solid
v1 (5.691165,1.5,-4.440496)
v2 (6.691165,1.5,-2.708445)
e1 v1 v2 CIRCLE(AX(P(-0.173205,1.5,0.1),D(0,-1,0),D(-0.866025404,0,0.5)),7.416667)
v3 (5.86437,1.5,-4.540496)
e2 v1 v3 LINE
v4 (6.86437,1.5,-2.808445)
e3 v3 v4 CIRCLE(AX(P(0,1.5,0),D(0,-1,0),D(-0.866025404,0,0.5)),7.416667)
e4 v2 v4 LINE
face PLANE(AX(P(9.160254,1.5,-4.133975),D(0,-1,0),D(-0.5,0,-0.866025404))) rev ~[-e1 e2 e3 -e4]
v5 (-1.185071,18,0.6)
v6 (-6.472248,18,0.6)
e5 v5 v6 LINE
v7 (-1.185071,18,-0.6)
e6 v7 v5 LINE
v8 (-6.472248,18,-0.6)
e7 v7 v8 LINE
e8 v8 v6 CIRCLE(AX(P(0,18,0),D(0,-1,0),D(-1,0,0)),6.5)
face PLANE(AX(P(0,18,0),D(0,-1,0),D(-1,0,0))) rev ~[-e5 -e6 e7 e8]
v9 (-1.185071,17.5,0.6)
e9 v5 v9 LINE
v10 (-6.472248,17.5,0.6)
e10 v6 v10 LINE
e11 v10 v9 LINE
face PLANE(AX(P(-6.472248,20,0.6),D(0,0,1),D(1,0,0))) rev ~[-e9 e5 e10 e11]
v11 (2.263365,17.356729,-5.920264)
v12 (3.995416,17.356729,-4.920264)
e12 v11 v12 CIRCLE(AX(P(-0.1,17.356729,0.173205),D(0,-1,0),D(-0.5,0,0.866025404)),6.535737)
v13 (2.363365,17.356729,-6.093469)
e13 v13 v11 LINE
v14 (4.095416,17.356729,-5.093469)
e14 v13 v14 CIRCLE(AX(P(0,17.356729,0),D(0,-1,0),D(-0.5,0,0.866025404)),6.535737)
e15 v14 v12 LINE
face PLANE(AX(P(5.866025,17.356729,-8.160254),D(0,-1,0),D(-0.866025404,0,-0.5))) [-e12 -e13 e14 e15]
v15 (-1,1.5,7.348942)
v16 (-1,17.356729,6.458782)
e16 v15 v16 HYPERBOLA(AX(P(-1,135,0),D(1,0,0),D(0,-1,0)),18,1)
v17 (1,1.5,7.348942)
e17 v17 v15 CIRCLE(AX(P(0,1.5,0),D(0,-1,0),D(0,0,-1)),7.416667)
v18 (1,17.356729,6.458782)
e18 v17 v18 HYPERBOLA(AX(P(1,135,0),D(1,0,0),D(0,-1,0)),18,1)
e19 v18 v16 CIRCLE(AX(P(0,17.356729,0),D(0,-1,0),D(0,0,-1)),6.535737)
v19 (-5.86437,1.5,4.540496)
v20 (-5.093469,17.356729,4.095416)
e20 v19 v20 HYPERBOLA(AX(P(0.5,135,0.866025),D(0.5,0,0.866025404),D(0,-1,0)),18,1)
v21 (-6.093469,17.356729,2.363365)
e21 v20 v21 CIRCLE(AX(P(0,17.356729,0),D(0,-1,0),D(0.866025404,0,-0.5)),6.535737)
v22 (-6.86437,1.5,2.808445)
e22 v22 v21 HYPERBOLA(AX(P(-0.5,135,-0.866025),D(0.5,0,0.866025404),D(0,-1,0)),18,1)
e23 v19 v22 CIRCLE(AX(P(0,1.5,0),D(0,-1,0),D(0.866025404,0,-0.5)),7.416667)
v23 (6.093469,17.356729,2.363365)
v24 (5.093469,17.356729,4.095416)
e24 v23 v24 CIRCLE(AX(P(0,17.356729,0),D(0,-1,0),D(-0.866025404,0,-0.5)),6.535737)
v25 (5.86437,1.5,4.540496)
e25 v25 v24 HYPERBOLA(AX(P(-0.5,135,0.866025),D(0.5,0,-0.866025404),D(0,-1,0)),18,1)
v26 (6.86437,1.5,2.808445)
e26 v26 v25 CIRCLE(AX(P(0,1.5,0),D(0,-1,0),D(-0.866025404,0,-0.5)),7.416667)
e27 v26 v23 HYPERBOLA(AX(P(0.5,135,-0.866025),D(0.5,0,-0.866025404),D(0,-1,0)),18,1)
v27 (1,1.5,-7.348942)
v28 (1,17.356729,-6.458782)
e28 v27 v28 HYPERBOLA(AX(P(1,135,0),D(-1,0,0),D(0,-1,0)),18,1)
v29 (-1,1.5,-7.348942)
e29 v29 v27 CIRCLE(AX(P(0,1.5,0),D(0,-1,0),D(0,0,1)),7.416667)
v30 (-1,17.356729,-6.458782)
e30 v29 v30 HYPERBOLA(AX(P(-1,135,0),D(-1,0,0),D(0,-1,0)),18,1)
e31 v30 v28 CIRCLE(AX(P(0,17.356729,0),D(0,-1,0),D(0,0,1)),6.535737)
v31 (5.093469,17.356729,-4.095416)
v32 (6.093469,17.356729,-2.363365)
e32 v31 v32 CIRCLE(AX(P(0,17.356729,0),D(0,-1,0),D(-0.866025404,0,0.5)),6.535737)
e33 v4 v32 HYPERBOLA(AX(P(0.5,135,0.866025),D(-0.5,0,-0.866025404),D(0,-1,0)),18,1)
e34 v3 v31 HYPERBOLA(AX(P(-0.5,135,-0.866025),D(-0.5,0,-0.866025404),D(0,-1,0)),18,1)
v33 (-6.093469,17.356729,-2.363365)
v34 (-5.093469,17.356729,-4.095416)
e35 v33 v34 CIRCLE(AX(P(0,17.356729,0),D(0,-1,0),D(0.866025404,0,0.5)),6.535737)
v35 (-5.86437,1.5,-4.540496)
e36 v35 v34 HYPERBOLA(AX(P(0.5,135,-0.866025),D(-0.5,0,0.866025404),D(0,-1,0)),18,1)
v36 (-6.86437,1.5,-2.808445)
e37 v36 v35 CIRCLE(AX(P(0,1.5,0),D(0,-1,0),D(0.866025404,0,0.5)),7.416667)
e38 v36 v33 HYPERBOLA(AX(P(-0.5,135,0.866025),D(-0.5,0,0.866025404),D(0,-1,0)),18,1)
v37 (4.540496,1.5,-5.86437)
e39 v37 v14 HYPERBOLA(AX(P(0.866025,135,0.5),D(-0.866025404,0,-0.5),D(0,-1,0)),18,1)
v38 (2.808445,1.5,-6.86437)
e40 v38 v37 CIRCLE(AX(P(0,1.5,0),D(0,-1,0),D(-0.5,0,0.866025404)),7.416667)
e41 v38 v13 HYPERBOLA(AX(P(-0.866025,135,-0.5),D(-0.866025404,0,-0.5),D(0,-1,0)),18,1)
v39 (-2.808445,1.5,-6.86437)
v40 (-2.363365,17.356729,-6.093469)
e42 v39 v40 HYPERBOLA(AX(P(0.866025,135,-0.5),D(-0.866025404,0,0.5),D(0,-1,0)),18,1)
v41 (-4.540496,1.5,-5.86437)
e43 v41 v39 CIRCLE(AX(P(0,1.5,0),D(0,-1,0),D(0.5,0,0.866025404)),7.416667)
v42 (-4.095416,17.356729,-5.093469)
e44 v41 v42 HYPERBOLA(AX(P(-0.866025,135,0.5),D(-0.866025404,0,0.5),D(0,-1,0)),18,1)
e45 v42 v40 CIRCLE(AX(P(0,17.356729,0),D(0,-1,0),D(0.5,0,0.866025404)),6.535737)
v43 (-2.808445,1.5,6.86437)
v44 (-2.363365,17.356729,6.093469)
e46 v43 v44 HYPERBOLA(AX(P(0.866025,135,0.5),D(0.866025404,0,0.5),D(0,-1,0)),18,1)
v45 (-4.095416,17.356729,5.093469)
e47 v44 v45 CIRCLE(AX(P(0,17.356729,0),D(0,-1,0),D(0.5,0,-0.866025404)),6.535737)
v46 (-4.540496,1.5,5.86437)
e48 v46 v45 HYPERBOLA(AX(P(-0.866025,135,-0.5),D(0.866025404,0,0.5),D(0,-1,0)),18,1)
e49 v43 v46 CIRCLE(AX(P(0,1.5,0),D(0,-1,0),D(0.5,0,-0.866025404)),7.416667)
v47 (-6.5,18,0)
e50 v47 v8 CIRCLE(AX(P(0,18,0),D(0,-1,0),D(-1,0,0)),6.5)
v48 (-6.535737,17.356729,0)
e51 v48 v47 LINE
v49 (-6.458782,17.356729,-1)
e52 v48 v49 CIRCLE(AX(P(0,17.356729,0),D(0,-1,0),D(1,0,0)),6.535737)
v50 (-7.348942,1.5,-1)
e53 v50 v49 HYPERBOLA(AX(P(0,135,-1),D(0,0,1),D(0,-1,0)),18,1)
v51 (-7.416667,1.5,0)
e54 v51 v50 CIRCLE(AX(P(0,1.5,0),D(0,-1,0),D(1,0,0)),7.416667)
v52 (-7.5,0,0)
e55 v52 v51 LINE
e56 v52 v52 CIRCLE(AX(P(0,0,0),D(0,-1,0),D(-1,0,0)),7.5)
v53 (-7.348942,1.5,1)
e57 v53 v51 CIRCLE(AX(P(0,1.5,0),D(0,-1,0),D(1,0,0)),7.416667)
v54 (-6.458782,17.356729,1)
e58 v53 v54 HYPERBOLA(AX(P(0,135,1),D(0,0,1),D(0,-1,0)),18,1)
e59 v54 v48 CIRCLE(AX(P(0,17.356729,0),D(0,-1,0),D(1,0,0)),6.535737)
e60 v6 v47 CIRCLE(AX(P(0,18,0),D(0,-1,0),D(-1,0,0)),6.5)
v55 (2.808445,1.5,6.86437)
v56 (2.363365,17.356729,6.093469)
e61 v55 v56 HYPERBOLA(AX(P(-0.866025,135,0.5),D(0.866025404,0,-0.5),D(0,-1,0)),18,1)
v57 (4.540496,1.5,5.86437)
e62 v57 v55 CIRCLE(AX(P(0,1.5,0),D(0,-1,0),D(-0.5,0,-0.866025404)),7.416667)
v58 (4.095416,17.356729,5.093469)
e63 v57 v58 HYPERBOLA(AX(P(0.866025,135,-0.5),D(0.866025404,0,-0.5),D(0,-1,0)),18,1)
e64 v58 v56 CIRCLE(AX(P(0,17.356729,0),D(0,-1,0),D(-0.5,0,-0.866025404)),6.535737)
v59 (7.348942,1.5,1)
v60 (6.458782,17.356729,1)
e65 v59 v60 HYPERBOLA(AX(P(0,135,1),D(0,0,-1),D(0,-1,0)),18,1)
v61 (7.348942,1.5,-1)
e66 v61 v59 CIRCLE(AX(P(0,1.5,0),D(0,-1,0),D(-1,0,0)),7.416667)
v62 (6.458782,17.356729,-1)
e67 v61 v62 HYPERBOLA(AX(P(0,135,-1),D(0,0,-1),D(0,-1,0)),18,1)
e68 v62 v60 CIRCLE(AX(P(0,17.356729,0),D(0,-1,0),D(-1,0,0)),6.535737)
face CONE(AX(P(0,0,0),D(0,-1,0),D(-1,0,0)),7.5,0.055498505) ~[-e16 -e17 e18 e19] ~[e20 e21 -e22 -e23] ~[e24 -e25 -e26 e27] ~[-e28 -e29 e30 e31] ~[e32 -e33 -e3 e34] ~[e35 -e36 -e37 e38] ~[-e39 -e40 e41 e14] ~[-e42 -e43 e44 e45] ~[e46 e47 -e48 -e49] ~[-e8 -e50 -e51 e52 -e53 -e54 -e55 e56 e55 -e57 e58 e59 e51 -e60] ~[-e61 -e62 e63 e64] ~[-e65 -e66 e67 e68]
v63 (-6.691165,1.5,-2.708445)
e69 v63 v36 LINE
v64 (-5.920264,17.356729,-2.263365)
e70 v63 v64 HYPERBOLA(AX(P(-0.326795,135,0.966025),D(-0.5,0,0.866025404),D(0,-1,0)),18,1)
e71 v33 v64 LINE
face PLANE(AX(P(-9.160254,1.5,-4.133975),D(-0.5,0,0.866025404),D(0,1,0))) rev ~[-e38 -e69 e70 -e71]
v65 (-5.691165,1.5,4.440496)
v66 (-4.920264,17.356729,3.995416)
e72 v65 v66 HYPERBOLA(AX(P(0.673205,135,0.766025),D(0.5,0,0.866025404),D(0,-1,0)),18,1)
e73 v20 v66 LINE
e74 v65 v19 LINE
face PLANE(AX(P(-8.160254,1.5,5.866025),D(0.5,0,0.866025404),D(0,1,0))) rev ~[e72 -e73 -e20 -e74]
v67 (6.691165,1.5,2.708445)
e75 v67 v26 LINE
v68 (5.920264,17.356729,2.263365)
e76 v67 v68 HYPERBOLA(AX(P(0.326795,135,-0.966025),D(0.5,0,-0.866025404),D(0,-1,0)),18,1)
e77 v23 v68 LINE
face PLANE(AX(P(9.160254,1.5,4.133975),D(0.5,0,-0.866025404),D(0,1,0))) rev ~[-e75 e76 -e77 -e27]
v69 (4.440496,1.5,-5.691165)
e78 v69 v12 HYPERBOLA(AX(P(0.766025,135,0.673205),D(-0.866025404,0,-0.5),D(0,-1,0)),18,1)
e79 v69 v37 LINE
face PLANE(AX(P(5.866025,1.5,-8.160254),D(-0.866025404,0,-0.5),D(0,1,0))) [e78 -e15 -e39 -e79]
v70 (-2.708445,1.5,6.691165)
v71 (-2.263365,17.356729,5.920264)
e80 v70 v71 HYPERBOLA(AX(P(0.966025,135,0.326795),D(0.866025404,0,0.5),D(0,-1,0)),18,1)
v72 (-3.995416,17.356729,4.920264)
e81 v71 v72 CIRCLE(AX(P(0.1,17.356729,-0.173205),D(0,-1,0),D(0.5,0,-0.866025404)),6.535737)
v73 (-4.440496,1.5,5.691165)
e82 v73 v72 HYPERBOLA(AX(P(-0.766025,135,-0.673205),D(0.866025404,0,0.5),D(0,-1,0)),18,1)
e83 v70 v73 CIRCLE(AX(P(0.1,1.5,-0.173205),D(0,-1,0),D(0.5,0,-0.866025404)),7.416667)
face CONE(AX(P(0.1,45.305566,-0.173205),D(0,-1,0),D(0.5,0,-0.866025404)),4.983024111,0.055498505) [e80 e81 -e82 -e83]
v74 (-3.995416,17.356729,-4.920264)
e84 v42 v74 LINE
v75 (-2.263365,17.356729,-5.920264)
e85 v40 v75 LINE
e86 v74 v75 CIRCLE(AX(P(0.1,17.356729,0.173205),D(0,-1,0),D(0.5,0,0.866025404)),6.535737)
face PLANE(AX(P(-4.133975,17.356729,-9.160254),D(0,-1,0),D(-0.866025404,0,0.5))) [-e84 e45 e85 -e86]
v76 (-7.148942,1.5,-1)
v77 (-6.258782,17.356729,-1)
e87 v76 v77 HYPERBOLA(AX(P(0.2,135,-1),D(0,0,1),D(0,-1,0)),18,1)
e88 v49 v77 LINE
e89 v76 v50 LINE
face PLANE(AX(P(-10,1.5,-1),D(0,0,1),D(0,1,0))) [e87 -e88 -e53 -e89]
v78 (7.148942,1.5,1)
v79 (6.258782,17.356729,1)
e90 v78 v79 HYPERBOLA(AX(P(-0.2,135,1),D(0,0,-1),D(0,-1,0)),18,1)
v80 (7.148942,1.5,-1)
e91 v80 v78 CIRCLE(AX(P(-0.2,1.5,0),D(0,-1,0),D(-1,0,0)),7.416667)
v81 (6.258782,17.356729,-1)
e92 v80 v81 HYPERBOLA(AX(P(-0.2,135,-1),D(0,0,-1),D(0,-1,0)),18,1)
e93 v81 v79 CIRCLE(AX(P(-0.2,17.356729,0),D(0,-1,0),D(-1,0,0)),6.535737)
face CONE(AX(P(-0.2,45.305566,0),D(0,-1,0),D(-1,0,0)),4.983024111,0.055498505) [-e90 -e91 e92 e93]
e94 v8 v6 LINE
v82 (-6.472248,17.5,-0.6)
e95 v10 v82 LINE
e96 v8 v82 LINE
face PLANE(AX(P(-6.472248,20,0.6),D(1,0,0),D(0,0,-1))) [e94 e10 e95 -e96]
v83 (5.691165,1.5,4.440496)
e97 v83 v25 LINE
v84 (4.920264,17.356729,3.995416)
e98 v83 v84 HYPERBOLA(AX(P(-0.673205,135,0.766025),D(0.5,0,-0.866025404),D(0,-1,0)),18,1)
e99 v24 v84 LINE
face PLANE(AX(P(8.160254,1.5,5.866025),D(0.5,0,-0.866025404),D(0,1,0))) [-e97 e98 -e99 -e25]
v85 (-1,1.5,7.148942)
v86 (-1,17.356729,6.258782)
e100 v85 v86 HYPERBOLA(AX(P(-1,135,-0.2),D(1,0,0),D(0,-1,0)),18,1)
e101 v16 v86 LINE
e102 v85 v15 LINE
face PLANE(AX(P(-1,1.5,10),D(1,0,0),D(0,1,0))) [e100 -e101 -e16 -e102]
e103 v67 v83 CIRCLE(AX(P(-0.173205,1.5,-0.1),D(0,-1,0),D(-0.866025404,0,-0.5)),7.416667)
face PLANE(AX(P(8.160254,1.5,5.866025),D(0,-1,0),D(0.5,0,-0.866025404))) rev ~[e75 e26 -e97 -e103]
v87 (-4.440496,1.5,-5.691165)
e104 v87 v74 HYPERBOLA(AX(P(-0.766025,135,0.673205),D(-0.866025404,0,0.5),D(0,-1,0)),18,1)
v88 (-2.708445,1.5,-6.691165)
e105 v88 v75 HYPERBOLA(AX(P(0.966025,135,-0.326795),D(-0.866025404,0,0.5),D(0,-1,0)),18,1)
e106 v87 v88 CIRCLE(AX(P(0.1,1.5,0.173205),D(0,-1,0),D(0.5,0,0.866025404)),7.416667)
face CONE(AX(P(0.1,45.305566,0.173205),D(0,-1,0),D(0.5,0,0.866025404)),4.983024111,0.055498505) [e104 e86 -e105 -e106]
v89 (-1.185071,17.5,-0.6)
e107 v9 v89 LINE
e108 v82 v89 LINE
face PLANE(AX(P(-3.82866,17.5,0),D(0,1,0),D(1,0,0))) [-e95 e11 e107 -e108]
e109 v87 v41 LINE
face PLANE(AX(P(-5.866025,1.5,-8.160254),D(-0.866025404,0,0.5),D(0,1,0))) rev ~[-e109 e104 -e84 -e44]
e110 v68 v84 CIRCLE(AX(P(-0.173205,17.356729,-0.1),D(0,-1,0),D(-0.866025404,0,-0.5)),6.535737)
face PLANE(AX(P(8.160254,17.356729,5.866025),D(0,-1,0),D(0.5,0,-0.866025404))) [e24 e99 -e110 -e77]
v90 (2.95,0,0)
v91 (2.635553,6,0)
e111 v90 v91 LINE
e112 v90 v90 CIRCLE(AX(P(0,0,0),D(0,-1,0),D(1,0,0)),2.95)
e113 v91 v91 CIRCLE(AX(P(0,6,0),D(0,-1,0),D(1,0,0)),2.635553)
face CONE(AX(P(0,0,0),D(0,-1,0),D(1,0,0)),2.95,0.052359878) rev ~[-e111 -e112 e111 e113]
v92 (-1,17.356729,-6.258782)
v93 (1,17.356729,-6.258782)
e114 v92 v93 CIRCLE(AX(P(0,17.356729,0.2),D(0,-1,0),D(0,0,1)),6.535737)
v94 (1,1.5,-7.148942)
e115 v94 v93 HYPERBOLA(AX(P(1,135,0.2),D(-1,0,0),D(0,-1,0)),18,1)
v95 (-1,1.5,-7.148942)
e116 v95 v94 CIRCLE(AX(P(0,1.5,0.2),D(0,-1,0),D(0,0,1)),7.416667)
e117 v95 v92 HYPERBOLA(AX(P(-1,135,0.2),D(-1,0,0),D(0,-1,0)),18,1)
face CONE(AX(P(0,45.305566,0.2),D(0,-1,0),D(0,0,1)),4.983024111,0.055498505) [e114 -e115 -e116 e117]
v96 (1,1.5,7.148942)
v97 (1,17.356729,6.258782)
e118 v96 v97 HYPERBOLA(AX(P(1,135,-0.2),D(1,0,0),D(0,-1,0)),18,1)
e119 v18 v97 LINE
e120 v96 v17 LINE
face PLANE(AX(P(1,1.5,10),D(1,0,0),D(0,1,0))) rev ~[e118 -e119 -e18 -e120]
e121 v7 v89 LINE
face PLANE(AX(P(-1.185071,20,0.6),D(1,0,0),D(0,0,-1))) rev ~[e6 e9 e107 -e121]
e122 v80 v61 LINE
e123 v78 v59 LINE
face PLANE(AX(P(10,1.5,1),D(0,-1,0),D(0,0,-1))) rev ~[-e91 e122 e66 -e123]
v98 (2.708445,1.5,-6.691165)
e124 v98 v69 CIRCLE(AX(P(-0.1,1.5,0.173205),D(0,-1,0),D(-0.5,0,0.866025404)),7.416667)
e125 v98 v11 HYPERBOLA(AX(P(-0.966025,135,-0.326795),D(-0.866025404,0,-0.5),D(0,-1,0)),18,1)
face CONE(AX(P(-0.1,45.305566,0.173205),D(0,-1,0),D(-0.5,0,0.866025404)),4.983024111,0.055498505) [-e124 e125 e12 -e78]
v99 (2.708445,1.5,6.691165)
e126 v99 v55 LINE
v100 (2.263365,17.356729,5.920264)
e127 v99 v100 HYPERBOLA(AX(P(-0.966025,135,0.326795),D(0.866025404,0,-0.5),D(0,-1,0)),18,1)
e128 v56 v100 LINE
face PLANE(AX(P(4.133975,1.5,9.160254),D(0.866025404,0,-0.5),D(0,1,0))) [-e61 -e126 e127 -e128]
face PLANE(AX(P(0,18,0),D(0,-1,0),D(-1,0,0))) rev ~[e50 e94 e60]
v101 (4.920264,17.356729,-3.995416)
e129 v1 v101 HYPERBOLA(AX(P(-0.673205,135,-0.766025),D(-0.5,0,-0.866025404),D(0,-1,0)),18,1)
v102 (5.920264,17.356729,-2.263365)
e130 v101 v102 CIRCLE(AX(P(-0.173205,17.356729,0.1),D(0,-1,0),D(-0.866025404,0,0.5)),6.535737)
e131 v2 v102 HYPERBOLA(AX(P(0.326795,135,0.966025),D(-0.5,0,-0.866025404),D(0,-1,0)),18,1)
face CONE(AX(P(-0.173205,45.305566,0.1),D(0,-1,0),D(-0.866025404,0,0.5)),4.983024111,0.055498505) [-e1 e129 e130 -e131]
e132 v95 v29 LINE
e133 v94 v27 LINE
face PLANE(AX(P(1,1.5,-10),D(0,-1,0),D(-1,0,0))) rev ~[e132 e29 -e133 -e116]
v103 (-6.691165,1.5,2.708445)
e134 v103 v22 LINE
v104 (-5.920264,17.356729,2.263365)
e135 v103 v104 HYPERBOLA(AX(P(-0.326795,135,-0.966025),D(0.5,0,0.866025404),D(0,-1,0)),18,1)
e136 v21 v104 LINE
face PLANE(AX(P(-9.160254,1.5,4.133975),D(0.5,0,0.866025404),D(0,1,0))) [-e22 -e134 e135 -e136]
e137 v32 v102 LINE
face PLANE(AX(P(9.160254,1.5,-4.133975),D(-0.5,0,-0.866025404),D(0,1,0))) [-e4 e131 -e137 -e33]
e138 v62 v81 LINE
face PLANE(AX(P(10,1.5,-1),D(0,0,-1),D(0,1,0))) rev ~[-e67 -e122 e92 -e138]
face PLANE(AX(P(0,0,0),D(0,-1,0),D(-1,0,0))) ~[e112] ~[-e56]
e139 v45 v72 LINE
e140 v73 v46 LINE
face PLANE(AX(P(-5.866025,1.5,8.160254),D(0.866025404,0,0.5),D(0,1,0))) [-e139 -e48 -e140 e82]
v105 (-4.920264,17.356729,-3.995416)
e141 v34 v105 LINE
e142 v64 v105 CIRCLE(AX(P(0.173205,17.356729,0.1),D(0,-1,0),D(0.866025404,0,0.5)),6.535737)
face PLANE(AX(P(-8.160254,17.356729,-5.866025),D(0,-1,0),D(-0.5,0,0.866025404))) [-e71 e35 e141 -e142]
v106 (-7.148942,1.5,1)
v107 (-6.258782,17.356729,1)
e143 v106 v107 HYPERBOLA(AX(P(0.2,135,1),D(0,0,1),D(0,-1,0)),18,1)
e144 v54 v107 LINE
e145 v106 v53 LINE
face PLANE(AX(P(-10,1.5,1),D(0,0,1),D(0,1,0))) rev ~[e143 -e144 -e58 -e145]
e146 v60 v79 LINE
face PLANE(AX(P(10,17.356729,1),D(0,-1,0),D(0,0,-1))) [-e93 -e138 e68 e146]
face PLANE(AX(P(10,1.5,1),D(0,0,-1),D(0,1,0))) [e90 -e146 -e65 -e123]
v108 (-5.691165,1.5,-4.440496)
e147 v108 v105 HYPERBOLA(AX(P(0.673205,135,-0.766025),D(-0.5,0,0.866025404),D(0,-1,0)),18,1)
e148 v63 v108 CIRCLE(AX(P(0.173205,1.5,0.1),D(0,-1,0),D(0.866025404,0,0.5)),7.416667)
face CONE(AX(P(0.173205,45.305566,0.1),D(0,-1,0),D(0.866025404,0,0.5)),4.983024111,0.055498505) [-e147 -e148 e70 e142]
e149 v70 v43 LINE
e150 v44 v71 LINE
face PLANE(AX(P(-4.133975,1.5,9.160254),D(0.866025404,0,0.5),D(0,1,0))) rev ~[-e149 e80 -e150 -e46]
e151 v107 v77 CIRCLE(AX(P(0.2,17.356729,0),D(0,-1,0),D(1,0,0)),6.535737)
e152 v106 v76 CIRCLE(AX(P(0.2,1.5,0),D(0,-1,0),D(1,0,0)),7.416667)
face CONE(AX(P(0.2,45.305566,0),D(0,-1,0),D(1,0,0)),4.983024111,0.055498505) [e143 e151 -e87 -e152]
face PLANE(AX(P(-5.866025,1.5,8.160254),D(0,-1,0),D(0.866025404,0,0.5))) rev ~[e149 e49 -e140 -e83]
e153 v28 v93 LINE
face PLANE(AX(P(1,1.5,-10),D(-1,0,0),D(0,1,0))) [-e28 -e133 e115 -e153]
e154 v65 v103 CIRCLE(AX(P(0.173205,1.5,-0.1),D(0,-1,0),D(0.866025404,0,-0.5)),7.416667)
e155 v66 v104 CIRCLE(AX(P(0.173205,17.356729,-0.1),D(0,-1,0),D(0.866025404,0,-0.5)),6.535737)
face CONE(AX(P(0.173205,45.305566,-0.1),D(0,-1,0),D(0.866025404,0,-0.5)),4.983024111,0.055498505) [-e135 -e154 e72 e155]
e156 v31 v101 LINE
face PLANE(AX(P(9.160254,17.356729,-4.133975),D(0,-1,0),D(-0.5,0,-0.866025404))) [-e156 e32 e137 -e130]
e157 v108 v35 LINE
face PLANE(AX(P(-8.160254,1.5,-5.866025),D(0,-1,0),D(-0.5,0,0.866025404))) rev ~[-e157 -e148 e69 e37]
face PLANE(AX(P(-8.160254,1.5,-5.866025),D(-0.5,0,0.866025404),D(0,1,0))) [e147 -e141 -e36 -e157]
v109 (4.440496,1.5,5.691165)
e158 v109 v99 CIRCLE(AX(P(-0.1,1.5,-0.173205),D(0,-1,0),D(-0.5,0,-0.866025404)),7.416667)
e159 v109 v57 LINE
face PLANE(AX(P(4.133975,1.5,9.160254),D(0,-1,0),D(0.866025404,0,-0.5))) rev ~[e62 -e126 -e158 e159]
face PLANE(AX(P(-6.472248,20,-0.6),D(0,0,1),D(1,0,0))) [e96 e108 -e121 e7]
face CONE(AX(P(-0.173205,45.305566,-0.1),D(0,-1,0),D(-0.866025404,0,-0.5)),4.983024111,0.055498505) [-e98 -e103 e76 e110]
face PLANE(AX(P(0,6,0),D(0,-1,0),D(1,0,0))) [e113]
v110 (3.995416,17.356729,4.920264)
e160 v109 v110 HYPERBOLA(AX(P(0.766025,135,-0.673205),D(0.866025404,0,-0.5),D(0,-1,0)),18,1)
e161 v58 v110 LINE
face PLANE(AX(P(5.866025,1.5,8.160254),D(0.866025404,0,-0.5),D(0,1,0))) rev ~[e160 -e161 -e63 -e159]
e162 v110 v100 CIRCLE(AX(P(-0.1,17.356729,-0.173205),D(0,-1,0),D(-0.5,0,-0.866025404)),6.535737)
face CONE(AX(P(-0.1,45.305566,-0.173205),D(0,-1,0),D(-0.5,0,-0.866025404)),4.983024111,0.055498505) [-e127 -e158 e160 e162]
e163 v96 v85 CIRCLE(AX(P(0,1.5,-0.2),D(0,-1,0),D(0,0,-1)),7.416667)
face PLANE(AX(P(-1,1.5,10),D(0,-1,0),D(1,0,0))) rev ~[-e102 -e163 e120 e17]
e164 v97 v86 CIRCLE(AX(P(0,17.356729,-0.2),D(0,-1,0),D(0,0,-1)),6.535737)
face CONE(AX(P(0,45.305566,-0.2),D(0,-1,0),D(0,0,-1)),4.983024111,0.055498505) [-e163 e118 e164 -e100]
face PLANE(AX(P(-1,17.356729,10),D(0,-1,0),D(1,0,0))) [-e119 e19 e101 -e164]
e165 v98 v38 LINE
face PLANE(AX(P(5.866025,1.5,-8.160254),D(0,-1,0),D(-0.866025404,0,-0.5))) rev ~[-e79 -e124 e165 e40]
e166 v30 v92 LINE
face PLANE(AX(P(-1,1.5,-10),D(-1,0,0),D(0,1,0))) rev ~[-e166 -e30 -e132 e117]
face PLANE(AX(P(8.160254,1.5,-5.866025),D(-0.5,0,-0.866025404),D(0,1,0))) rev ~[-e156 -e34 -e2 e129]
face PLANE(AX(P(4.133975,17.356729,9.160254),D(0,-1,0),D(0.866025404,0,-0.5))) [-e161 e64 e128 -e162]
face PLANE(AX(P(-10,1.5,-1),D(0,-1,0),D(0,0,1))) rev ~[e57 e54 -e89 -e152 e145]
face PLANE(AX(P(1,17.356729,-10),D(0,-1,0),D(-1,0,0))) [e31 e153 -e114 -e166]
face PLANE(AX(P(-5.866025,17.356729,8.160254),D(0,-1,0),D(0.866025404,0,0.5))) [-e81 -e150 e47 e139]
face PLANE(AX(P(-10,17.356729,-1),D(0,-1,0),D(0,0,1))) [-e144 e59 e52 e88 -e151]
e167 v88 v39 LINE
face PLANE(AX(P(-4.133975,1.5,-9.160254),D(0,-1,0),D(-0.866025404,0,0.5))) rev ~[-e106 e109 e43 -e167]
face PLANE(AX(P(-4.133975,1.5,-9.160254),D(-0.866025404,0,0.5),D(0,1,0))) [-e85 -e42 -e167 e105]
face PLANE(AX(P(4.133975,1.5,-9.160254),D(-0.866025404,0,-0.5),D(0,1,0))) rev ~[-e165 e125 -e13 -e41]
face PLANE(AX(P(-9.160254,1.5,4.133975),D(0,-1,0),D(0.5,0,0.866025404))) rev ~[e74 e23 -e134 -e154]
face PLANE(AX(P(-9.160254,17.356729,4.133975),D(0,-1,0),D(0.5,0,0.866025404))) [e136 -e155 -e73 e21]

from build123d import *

# Parameters (mm, degrees)
ENL_V_MAT_EXTRU_1_REACH      = 28.401
ESQUISSE3_W                  = 2
ESQUISSE3_H                  = 15.856728551
ESQUISSE4_R                  = 2.95
ENL_V_MAT_EXTRU_2_DEPTH      = 6
ENL_V_MAT_EXTRU_2_DRAFT      = -3
R_P_TITION_CIRCULAIRE4_COUNT = 12
ESQUISSE5_W                  = 5.287177124
ESQUISSE5_H                  = 1.2
ENL_V_MAT_EXTRU_3_DEPTH      = 2.5


with BuildPart() as part:
    # Esquisse1 → Révolution1 (revolve)
    with BuildSketch(Plane.XY):
        Polygon((0, 0), (-7.5, 0), (-6.5, 18), (0, 18), align=None)
    revolve(axis=Axis((0, 18, 0), (0, -1, 0)))

    # Enlèv. mat.-Extru.1: from a cone face, 28.401 long prism both ways, kept between that surface and its translate by the depth
    enl_v_mat_extru_1_start = Plane(origin=(0, 9.428364, 0), z_dir=(0, -1, 0)) * Cone(4.983024111, 8.969379889, 71.754404, mode=Mode.PRIVATE)
    enl_v_mat_extru_1_end = Plane(origin=(0, 9.428364, -0.2), z_dir=(0, -1, 0)) * Cone(4.983024111, 8.969379889, 71.754404, mode=Mode.PRIVATE)
    # Esquisse3 → Enlèv. mat.-Extru.1 (cut, from a surface)
    with BuildSketch(Plane.XY.offset(10), mode=Mode.PRIVATE) as enl_v_mat_extru_1_sk1:
        with Locations((0, 9.428364275)):
            Rectangle(ESQUISSE3_W, ESQUISSE3_H)
    enl_v_mat_extru_1_tool1 = extrude(enl_v_mat_extru_1_sk1.sketch, amount=ENL_V_MAT_EXTRU_1_REACH, both=True, mode=Mode.PRIVATE)
    enl_v_mat_extru_1 = ((enl_v_mat_extru_1_tool1 & enl_v_mat_extru_1_start) - enl_v_mat_extru_1_end).solids().sort_by_distance((0, 9.428364, 6.803862))[0]
    add(enl_v_mat_extru_1, mode=Mode.SUBTRACT)


with BuildPart() as enl_v_mat_extru_2_tool:
    # Esquisse4 → Enlèv. mat.-Extru.2 (with draft: the straight prism first)
    with BuildSketch(Plane.XZ):
        Circle(ESQUISSE4_R)
    extrude(amount=-ENL_V_MAT_EXTRU_2_DEPTH)
    # Enlèv. mat.-Extru.2: the draft: its side faces are tilted about the plane it starts from
    enl_v_mat_extru_2_sides = [enl_v_mat_extru_2_tool.faces().sort_by_distance(p)[0] for p in [
        (-2.95, 3, 0),
    ]]
    draft(enl_v_mat_extru_2_sides, Plane.XZ, ENL_V_MAT_EXTRU_2_DRAFT)


with BuildPart() as part_1:
    add(part.part)

    # Enlèv. mat.-Extru.2: cut by enl_v_mat_extru_2_tool
    add(enl_v_mat_extru_2_tool.part, mode=Mode.SUBTRACT)

    # Répétition circulaire4: Enlèv. mat.-Extru.1 ×12 about axis
    r_p_tition_circulaire4_axis = Axis((0, 0, 0), (0, 1, 0))
    for i in range(1, R_P_TITION_CIRCULAIRE4_COUNT):
        add(enl_v_mat_extru_1.rotate(r_p_tition_circulaire4_axis, i * 360 / R_P_TITION_CIRCULAIRE4_COUNT), mode=Mode.SUBTRACT)

    # Esquisse5 → Enlèv. mat.-Extru.3 (cut)
    with BuildSketch(Plane(origin=(0, 20, 0), x_dir=(1, 0, 0), z_dir=(0, 1, 0))):
        with Locations((-3.828659888, 0)):
            Rectangle(ESQUISSE5_W, ESQUISSE5_H)
    extrude(amount=-ENL_V_MAT_EXTRU_3_DEPTH, mode=Mode.SUBTRACT)


solid = part_1.part
